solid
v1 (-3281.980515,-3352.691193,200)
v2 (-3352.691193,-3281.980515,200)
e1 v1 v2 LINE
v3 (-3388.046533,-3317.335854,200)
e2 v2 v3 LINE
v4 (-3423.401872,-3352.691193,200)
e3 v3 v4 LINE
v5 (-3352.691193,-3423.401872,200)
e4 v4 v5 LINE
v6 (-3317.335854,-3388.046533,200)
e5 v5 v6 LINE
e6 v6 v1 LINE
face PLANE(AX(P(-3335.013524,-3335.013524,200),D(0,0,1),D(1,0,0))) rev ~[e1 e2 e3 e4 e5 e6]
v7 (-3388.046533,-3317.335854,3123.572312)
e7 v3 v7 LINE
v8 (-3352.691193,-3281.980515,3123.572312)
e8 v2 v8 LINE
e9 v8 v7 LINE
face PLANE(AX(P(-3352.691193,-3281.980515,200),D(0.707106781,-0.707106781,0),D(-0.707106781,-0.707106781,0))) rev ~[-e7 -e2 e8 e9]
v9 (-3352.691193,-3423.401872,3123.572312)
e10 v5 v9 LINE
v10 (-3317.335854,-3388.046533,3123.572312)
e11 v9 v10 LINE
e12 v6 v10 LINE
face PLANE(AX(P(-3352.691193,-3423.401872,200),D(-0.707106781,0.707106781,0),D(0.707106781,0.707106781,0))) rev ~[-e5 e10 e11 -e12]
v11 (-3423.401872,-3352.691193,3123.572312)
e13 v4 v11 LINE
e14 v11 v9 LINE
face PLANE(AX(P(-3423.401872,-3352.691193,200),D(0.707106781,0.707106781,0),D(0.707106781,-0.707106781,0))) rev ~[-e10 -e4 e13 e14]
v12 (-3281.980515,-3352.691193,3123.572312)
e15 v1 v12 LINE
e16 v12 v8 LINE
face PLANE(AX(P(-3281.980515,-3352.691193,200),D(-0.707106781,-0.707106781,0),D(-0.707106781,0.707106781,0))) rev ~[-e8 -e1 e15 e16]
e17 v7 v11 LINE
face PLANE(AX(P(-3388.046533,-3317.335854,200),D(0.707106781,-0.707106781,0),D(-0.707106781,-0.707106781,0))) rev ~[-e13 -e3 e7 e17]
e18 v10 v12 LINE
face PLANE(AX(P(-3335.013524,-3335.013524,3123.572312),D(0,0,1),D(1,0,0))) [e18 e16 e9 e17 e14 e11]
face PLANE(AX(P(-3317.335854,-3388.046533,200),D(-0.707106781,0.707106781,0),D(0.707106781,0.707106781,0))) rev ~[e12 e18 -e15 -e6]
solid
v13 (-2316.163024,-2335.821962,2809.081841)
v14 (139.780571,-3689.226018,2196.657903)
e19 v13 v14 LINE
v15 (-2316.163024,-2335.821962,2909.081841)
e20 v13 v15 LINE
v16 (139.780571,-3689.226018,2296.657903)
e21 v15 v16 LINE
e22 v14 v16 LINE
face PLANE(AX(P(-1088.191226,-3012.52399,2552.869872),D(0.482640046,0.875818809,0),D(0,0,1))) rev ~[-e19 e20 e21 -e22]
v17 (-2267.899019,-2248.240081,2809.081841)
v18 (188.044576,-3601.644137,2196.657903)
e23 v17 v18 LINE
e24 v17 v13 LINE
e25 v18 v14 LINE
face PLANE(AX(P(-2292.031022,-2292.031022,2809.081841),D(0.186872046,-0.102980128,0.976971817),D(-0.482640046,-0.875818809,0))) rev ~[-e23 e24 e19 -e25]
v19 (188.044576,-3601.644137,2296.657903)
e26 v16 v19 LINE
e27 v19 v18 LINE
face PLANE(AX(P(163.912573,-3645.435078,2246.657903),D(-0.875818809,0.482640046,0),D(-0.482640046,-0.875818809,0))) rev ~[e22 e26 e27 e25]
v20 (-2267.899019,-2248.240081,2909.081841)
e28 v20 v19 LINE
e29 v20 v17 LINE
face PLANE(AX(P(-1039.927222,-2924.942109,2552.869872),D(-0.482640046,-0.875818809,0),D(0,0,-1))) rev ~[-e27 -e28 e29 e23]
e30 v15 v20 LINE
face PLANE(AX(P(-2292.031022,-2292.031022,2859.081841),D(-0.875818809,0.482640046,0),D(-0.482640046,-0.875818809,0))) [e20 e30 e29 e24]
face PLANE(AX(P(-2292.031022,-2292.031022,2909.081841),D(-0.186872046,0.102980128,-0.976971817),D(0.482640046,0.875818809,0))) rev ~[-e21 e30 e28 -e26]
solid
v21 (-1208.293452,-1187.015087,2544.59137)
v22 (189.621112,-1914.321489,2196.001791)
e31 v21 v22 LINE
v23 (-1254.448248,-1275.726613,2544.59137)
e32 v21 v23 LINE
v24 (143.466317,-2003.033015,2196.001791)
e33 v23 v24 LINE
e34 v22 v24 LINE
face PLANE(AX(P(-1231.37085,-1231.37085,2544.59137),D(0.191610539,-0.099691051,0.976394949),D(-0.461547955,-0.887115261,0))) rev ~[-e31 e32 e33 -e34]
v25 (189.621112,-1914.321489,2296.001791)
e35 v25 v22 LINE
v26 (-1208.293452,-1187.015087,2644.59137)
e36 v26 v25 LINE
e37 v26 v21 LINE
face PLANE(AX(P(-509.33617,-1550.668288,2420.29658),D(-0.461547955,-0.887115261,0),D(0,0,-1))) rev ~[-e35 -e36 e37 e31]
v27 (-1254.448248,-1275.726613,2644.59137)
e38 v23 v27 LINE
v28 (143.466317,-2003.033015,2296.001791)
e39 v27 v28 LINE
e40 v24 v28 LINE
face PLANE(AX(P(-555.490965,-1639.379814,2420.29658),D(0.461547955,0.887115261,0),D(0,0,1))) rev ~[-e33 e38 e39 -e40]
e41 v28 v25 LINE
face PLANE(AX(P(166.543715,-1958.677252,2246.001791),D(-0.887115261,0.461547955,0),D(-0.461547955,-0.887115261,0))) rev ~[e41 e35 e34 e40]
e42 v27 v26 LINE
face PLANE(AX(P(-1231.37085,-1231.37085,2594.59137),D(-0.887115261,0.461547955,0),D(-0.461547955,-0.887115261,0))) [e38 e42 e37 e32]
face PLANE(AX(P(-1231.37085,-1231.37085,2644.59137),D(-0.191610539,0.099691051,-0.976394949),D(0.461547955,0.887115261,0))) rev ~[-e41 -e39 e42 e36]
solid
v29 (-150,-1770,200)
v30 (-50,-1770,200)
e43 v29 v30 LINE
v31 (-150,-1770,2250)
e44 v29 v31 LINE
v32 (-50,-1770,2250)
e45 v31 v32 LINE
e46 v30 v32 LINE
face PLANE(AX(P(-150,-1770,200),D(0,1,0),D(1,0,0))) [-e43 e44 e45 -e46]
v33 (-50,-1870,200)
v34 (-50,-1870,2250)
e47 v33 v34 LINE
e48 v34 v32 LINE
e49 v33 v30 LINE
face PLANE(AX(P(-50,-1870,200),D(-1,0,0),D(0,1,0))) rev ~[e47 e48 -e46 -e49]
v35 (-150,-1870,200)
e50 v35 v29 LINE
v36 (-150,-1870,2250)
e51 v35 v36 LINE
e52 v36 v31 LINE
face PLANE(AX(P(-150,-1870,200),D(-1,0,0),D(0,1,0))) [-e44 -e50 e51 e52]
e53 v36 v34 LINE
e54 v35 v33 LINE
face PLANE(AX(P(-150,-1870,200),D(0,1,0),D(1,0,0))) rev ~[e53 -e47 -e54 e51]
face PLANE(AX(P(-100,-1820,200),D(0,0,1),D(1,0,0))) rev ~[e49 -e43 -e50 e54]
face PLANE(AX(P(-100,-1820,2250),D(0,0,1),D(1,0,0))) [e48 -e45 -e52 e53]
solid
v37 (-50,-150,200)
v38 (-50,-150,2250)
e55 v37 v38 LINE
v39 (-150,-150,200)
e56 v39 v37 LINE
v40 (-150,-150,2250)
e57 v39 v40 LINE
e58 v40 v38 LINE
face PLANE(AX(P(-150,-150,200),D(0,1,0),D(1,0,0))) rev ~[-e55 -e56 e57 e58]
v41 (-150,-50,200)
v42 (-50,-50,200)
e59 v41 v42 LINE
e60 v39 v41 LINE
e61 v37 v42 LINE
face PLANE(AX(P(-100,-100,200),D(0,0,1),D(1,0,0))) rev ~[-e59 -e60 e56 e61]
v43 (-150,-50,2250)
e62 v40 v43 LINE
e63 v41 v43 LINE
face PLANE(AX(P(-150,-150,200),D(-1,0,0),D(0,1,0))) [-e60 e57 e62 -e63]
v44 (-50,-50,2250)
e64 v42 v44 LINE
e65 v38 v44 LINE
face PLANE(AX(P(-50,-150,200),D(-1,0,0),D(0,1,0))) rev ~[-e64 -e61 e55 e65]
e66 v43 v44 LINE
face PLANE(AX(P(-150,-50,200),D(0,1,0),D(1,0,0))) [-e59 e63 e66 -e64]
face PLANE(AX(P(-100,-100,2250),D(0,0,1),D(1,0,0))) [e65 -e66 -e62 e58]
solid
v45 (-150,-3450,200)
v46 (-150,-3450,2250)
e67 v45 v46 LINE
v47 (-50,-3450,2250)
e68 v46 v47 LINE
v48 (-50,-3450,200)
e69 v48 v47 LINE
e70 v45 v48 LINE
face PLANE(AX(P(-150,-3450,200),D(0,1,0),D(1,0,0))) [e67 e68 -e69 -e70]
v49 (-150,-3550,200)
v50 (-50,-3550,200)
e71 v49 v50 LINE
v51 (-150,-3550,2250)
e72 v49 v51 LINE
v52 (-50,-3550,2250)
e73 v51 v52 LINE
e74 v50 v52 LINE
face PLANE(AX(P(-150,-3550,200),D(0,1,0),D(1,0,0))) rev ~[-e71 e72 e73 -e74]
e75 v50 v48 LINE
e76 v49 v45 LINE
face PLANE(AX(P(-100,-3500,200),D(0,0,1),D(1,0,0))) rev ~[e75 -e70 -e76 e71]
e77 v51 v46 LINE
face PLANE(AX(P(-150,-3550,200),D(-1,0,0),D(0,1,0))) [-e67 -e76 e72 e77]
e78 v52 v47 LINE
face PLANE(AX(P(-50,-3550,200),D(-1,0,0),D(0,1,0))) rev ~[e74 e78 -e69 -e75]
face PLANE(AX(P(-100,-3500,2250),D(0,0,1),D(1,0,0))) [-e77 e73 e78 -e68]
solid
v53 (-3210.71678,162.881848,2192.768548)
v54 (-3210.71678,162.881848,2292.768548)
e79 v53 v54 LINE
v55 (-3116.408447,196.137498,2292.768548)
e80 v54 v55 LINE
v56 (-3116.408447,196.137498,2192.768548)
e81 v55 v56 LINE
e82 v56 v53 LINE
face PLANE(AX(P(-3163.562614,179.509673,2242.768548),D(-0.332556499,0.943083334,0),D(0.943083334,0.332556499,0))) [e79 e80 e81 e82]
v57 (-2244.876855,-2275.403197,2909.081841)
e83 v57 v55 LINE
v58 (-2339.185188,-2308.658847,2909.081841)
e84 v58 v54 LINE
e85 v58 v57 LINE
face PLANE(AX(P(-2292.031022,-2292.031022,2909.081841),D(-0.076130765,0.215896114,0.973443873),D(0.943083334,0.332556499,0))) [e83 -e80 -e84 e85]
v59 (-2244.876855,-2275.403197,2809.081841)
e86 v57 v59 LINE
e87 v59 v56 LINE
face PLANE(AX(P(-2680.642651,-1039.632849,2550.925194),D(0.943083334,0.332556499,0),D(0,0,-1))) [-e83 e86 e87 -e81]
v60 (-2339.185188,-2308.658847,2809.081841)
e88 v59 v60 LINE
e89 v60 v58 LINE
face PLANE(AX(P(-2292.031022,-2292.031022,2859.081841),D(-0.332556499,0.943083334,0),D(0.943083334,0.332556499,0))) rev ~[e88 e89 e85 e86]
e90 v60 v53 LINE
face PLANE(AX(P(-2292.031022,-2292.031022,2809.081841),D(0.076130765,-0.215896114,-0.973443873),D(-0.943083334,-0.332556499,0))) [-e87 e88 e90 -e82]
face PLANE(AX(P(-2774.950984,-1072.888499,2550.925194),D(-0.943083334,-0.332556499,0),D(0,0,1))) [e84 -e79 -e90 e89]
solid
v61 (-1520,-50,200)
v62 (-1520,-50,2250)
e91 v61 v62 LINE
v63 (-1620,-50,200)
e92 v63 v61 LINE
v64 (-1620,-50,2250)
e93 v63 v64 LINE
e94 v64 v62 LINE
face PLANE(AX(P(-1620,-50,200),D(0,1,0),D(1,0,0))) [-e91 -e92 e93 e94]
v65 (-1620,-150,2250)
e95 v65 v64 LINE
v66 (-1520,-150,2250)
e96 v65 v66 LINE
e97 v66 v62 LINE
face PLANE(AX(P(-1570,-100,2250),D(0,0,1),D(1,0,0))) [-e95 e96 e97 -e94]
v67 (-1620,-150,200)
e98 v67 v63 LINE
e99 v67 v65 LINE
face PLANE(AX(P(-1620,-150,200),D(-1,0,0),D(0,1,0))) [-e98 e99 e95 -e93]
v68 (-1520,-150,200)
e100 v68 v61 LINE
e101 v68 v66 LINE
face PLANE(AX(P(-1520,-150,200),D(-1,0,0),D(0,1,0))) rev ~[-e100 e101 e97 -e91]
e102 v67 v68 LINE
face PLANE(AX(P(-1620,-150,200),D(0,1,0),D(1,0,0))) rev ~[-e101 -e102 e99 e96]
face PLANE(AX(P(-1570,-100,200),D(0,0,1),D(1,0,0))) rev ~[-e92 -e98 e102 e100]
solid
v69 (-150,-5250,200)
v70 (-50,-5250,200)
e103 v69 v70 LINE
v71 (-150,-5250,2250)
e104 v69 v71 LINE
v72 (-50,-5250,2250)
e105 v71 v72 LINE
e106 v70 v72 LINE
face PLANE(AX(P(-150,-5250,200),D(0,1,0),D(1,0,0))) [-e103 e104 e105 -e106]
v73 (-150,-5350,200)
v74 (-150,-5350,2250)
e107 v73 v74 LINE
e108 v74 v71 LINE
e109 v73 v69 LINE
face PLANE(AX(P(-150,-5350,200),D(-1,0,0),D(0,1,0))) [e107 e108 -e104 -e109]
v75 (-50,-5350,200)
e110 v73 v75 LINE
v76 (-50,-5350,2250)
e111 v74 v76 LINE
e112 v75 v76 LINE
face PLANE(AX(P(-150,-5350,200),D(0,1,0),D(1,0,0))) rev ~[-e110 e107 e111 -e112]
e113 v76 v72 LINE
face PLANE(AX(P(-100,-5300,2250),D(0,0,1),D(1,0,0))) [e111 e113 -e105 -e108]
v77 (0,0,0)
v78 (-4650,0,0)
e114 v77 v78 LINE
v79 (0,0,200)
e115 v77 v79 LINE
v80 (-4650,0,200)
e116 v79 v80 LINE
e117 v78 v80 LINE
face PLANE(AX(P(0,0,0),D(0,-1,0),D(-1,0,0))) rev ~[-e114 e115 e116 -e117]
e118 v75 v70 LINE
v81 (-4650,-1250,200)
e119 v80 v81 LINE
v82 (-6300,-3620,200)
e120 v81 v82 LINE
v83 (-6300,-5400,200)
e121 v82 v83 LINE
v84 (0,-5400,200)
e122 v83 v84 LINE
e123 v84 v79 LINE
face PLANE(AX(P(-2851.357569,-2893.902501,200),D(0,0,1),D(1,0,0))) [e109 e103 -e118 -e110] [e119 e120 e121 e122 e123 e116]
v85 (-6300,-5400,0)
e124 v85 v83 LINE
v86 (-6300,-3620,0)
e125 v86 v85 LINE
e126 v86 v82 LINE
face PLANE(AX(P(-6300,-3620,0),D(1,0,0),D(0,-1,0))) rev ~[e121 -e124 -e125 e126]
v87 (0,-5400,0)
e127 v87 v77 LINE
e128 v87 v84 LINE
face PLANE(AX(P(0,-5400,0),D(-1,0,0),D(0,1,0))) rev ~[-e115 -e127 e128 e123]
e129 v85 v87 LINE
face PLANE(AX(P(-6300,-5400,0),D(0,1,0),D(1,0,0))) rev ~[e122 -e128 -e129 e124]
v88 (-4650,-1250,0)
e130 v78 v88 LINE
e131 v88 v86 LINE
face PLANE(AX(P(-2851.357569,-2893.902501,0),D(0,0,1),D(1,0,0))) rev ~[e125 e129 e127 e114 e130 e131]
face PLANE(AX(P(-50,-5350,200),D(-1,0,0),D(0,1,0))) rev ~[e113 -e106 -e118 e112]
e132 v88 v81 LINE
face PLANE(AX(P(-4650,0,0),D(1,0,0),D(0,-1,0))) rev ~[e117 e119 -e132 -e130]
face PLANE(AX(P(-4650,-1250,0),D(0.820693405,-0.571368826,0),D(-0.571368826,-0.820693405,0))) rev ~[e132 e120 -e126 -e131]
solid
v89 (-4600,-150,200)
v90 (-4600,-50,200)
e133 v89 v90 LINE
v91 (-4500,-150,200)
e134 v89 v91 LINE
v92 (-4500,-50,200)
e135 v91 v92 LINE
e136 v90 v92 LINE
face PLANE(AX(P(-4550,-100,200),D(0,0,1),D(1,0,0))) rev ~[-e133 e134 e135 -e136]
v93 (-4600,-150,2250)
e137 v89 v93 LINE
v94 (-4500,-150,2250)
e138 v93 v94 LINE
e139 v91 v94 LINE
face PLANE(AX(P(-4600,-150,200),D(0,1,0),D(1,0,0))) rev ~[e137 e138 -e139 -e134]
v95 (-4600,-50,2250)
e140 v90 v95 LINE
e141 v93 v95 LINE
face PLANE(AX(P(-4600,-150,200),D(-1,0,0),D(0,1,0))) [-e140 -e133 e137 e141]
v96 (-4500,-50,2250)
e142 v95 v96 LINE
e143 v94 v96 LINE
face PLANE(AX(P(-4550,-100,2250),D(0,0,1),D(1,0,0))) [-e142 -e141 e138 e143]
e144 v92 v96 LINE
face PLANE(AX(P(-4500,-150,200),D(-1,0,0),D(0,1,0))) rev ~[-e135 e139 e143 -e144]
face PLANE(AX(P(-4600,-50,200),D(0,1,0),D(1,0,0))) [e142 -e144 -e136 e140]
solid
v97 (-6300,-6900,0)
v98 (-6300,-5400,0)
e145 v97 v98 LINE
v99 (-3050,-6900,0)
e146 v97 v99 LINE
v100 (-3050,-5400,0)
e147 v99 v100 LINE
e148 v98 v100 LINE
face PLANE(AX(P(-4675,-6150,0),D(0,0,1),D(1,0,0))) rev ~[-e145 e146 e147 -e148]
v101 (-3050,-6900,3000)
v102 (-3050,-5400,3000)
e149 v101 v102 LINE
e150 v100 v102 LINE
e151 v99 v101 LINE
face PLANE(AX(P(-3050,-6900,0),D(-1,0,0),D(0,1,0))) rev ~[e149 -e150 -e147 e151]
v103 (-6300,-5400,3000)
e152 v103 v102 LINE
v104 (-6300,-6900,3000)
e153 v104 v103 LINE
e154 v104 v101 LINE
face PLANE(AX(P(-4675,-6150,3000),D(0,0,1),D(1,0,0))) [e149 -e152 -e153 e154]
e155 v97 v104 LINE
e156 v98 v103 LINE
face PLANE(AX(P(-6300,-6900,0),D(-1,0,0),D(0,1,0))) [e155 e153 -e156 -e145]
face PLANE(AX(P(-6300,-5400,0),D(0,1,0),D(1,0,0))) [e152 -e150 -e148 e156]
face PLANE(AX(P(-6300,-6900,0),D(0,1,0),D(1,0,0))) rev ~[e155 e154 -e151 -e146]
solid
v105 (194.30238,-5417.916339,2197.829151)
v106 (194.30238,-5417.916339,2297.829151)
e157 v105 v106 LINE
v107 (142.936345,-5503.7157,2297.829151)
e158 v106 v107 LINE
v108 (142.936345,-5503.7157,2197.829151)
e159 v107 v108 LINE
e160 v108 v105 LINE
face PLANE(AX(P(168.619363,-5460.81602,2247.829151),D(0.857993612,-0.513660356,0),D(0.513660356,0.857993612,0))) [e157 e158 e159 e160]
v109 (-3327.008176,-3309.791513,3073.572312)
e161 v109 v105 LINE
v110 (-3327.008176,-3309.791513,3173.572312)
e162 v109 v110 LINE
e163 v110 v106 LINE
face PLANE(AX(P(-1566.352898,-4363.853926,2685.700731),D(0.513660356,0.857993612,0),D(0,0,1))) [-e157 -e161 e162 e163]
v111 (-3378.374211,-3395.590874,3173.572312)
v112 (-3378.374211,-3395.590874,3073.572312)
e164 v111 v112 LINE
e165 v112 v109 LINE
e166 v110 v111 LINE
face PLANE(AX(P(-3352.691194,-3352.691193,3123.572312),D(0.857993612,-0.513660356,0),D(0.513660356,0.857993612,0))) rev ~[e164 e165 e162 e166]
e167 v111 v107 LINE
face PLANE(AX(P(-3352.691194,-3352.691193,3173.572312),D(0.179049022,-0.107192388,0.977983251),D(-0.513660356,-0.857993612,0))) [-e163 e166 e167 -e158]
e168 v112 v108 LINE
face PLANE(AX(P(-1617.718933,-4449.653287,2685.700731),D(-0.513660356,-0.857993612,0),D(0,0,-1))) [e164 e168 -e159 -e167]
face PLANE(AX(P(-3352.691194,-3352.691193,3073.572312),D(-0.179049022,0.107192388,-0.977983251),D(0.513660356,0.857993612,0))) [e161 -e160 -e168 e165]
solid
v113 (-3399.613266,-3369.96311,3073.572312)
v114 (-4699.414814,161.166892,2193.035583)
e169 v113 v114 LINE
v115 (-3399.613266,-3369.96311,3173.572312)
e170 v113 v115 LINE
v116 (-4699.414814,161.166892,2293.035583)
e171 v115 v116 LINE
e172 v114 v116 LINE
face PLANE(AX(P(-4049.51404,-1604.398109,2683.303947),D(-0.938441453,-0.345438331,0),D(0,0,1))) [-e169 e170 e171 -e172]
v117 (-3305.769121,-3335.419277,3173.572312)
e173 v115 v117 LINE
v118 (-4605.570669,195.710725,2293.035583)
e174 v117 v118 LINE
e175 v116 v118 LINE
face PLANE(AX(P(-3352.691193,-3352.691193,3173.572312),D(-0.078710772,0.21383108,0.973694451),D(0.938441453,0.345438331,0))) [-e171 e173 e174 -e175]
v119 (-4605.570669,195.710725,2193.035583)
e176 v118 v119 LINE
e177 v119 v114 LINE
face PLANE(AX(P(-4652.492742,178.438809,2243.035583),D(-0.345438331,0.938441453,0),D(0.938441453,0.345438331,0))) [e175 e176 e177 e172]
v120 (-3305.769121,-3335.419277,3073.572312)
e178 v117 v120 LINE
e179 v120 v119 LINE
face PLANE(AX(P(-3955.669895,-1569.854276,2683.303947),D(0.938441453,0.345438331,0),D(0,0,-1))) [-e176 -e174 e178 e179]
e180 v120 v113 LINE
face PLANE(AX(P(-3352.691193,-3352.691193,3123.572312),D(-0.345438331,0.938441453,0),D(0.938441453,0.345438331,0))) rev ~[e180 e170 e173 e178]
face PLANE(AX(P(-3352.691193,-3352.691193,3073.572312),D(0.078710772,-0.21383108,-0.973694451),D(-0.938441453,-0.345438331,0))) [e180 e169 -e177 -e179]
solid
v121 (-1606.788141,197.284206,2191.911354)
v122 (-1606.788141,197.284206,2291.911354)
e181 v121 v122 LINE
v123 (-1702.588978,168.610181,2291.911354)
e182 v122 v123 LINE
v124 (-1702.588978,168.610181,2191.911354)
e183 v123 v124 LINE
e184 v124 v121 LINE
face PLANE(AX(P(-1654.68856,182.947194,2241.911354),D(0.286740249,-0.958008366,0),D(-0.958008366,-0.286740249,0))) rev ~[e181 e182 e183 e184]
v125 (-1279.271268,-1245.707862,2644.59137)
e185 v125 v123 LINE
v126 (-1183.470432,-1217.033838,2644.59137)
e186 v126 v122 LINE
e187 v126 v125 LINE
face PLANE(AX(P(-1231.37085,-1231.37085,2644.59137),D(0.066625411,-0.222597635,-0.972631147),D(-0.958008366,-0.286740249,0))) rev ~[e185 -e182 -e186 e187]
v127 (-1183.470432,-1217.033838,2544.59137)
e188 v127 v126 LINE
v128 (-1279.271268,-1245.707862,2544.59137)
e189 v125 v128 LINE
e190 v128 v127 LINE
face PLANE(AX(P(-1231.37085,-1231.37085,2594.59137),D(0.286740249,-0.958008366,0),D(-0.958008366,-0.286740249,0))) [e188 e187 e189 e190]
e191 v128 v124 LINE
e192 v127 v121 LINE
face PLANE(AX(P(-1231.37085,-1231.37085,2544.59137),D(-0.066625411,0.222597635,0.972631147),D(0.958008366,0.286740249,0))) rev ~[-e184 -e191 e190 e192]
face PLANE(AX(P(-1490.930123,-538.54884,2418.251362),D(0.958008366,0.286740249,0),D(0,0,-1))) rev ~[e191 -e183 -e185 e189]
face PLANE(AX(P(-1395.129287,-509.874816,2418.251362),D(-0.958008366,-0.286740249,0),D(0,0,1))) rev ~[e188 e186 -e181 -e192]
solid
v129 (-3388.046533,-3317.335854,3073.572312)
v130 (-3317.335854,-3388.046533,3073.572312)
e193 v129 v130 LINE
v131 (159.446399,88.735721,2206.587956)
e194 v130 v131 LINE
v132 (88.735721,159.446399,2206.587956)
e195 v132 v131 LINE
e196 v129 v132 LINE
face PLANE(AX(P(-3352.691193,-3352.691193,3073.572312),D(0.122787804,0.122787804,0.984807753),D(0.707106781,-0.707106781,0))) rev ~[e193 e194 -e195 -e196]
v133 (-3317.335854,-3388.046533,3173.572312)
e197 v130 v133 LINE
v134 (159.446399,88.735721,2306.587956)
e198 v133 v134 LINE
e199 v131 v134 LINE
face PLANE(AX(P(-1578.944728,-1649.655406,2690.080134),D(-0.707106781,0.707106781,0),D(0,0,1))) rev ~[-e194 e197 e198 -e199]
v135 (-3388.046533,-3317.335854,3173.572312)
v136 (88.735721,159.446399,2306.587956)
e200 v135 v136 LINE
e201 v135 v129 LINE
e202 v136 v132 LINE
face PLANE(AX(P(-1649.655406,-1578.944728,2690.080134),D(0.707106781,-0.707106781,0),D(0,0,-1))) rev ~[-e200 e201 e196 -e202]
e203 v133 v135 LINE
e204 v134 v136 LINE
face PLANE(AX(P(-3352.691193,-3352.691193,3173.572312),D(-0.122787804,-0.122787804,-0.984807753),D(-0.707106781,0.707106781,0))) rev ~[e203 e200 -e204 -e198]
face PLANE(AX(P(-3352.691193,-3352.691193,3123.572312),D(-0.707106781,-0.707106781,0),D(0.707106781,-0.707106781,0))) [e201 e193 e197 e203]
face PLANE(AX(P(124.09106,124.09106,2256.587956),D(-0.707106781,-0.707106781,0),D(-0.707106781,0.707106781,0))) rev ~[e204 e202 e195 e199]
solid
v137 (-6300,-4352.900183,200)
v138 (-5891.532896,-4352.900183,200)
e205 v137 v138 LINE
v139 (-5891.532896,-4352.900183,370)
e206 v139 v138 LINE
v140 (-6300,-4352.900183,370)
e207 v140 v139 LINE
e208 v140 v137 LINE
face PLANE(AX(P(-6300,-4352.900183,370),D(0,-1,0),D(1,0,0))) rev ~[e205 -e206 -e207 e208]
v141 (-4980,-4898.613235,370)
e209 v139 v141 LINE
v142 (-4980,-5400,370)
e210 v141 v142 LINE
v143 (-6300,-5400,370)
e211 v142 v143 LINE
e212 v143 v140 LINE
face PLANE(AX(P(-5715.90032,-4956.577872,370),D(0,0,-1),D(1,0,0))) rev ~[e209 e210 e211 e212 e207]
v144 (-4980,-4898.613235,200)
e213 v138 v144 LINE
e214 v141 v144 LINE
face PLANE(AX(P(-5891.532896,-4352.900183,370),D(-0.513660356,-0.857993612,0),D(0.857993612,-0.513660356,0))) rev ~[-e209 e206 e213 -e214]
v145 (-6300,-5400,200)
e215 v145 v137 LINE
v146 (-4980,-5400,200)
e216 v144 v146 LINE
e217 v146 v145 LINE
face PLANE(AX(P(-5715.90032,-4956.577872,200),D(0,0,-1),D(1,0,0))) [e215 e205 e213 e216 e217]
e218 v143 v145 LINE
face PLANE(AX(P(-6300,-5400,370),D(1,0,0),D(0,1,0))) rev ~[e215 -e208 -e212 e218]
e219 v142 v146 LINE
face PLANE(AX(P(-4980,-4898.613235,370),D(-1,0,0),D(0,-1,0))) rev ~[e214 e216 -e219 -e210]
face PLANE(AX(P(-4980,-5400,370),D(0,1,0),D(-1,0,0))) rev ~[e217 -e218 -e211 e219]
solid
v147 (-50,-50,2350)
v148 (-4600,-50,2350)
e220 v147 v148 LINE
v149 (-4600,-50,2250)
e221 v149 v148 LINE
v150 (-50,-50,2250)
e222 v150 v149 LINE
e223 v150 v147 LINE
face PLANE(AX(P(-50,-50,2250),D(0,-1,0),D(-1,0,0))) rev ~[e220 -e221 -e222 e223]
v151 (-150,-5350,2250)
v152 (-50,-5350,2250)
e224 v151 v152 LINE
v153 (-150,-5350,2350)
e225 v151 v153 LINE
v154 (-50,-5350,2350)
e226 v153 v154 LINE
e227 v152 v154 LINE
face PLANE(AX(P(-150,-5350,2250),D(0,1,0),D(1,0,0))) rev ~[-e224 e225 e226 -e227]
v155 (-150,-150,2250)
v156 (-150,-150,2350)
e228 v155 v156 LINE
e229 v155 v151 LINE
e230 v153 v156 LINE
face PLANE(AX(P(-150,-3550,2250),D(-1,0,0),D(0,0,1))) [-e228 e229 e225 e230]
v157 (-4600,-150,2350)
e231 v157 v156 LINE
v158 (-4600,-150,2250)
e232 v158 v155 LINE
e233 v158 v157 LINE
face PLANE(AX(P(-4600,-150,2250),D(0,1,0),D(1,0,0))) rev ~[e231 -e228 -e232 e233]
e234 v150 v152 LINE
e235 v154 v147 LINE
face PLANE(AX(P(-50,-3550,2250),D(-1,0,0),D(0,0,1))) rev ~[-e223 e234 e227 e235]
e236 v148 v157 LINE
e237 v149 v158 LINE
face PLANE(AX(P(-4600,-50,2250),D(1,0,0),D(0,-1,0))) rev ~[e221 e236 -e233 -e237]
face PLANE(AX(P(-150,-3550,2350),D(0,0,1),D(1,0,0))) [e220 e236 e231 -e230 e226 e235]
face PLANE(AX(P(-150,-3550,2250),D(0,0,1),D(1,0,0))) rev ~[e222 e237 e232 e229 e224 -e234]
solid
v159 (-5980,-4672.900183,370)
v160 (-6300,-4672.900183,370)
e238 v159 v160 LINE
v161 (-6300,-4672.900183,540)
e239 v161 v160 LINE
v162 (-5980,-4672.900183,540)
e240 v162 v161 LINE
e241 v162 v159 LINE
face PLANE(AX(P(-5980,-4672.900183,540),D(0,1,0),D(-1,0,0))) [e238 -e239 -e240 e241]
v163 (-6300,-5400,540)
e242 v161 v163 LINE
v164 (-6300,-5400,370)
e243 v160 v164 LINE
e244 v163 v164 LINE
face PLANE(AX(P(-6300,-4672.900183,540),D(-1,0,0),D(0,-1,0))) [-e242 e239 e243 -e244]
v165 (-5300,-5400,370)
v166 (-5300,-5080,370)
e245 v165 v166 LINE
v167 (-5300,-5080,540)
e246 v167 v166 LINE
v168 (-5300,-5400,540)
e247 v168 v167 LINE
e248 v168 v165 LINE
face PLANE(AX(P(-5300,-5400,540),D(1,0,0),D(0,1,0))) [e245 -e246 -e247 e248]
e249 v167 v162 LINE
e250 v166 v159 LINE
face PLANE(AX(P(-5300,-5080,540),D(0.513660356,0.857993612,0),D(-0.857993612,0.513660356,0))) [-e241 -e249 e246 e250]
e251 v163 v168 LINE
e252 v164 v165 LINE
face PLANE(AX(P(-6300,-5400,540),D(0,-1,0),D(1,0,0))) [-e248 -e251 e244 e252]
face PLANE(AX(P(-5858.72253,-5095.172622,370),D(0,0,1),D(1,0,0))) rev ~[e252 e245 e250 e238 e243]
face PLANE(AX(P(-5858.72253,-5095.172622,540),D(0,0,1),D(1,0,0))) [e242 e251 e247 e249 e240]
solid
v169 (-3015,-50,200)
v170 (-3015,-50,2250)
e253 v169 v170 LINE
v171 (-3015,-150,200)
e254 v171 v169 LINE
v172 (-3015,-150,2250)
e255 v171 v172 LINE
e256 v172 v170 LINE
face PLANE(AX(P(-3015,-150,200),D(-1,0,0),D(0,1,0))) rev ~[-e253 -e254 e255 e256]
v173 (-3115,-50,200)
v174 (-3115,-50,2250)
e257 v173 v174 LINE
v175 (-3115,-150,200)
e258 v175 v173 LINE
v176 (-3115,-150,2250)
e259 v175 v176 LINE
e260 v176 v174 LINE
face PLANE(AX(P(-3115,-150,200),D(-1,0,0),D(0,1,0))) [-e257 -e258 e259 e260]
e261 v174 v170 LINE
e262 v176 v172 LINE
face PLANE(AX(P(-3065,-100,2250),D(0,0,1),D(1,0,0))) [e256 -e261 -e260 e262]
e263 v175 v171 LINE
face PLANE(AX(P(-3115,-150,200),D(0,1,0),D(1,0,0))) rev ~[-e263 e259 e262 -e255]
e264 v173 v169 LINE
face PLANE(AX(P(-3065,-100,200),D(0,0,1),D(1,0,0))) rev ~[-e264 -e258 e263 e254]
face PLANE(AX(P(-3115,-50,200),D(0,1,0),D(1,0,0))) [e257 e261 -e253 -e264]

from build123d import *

# Parameters (mm, degrees)
F1_DEPTH  = 200
F2_W      = 100
F2_H      = 100
F3_DEPTH  = 2050
F5_DEPTH  = 100
F8_W      = 100
F8_H      = 100
F9_DEPTH  = 2050
F10_DEPTH = 1800
F14_W     = 100
F14_H     = 100
F19_W     = 100
F19_H     = 100
F24_W     = 100
F24_H     = 100
F29_W     = 100
F29_H     = 100
F34_W     = 100
F34_H     = 100
F39_W     = 100
F39_H     = 100
F44_W     = 100
F44_H     = 100
F47_DEPTH = 2923.5723116355
F6_W      = 3250
F6_H      = 1500
F48_DEPTH = 3000
F51_DEPTH = 170
F53_DEPTH = 170


with BuildPart() as f1:
    # F0 (on Top) → F1 (new body)
    with BuildSketch(Plane.XY):
        Polygon((0, -5400), (0, 0), (-4650, 0), (-4650, -1250), (-6300, -3620), (-6300, -5400), align=None)
    extrude(amount=F1_DEPTH)

    # F8 (on face) → F9 (join)
    with BuildSketch(Plane.XY.offset(200)):
        with Locations((-100, -5300)):
            Rectangle(F8_W, F8_H)
    extrude(amount=F9_DEPTH)


with BuildPart() as f3:
    # F2 (on face) → F3 (new body)
    with BuildSketch(Plane.XY.offset(200)):
        with Locations((-100, -100)):
            Rectangle(F2_W, F2_H)
    extrude(amount=F3_DEPTH)


with BuildPart() as f3b:
    # F2 (on face) → F3, piece 2 (new body)
    with BuildSketch(Plane.XY.offset(200)):
        with Locations((-100, -1820)):
            Rectangle(F2_W, F2_H)
    extrude(amount=F3_DEPTH)


with BuildPart() as f3c:
    # F2 (on face) → F3, piece 3 (new body)
    with BuildSketch(Plane.XY.offset(200)):
        with Locations((-100, -3500)):
            Rectangle(F2_W, F2_H)
    extrude(amount=F3_DEPTH)


with BuildPart() as f3d:
    # F2 (on face) → F3, piece 4 (new body)
    with BuildSketch(Plane.XY.offset(200)):
        with Locations((-1570, -100)):
            Rectangle(F2_W, F2_H)
    extrude(amount=F3_DEPTH)


with BuildPart() as f3e:
    # F2 (on face) → F3, piece 5 (new body)
    with BuildSketch(Plane.XY.offset(200)):
        with Locations((-4550, -100)):
            Rectangle(F2_W, F2_H)
    extrude(amount=F3_DEPTH)


with BuildPart() as f3f:
    # F2 (on face) → F3, piece 6 (new body)
    with BuildSketch(Plane.XY.offset(200)):
        with Locations((-3065, -100)):
            Rectangle(F2_W, F2_H)
    extrude(amount=F3_DEPTH)


with BuildPart() as f5:
    # F4 (on face) → F5 (new body)
    with BuildSketch(Plane.XY.offset(2250)):
        Polygon((-150, -50), (-4600, -50), (-4600, -150), (-150, -150), (-50, -50), align=None)
        Polygon((-50, -150), (-50, -50), (-150, -150), (-150, -3550), (-50, -3550), align=None)
    extrude(amount=F5_DEPTH)

    # F10 (add, through all): a face of the model
    f10_faces = [f5.faces().sort_by_distance(p)[0] for p in [
        (-100, -3550, 2300),
    ]]
    extrude(f10_faces, amount=F10_DEPTH)


with BuildPart() as f15:
    # F15: sweep along a path in F12
    with BuildLine(Plane(origin=(0, 0, 0), x_dir=(-0.7071067812, -0.7071067812, 0), z_dir=(-0.7071067812, 0.7071067812, 0))) as f15_path:
        Line((4741.4213562373, 3123.5723116355), (-175.4912601344, 2256.5879555833))
    # F14 (on face) → F15 (sweep)
    with BuildSketch(Plane(origin=(-3352.6911934581, -3352.6911934581, 0), x_dir=(0.7071067812, -0.7071067812, 0), z_dir=(-0.7071067812, -0.7071067812, 0))):
        with Locations((0, 3123.5723116355)):
            Rectangle(F14_W, F14_H)
    sweep(path=f15_path.line)


with BuildPart() as f20:
    # F20: sweep along a path in F17
    with BuildLine(Plane(origin=(-2362.1864095052, -3945.6828345314, 0), x_dir=(0.8579936122, -0.5136603562, 0), z_dir=(-0.5136603562, -0.8579936122, 0))) as f20_path:
        Line((-1154.4430750004, 3123.5723116355), (2949.6790376872, 2247.8291507744))
    # F19 (on face) → F20 (sweep)
    with BuildSketch(Plane(origin=(-990.5047839529, 592.9916410733, 0), x_dir=(0.5136603562, 0.8579936122, 0), z_dir=(0.8579936122, -0.5136603562, 0))):
        with Locations((-4598.7321800652, 3123.5723116355)):
            Rectangle(F19_W, F19_H)
    sweep(path=f20_path.line)


with BuildPart() as f25:
    # F25: sweep along a path in F22
    with BuildLine(Plane(origin=(-1502.7624460571, -2726.9755756037, 0), x_dir=(0.8758188091, -0.4826400455, 0), z_dir=(-0.4826400455, -0.8758188091, 0))) as f25_path:
        Line((-901.1779233051, 2859.0818405728), (1902.9906666078, 2246.6579034372))
    # F24 (on face) → F25 (sweep)
    with BuildSketch(Plane(origin=(-789.2685756212, 434.9445539254, 0), x_dir=(-0.4826400455, -0.8758188091, 0), z_dir=(-0.8758188091, 0.4826400455, 0))):
        with Locations((3113.6298365764, 2859.0818405728)):
            Rectangle(F24_W, F24_H)
    sweep(path=f25_path.line)


with BuildPart() as f30:
    # F30: sweep along a path in F27
    with BuildLine(Plane(origin=(-766.4947975737, -1473.2363669454, 0), x_dir=(0.8871152605, -0.4615479548, 0), z_dir=(-0.4615479548, -0.8871152605, 0))) as f30_path:
        Line((-524.03117499, 2594.5913695101), (1051.7669505735, 2246.0017914729))
    # F29 (on face) → F30 (sweep)
    with BuildSketch(Plane(origin=(-464.8760523248, 241.8655170469, 0), x_dir=(-0.4615479548, -0.8871152605, 0), z_dir=(-0.8871152605, 0.4615479548, 0))):
        with Locations((1660.7045696324, 2594.5913695101)):
            Rectangle(F29_W, F29_H)
    sweep(path=f30_path.line)


with BuildPart() as f35:
    # F35: sweep along a path in F32
    with BuildLine(Plane(origin=(-1468.3846024822, -439.5003017846, 0), x_dir=(-0.2867402487, 0.9580083662, 0), z_dir=(0.9580083662, 0.2867402487, 0))) as f35_path:
        Line((-826.579992429, 2594.5913695101), (649.7307515053, 2241.9113541709))
    # F34 (on face) → F35 (sweep)
    with BuildSketch(Plane(origin=(237.0137525837, -791.8705481139, 0), x_dir=(0.9580083662, 0.2867402487, 0), z_dir=(0.2867402487, -0.9580083662, 0))):
        with Locations((-1532.7471598654, 2594.5913695101)):
            Rectangle(F34_W, F34_H)
    sweep(path=f35_path.line)


with BuildPart() as f40:
    # F40: sweep along a path in F37
    with BuildLine(Plane(origin=(-2757.3927763263, -972.3307088586, 0), x_dir=(0.3325564986, -0.9430833342, 0), z_dir=(-0.9430833342, -0.3325564986, 0))) as f40_path:
        Line((1399.346446862, 2859.0818405728), (-1221.3558871335, 2242.7685480654))
    # F39 (on face) → F40 (sweep)
    with BuildSketch(Plane(origin=(465.361754648, -1319.7003128197, 0), x_dir=(-0.9430833342, -0.3325564986, 0), z_dir=(-0.3325564986, 0.9430833342, 0))):
        with Locations((2923.806069206, 2859.0818405728)):
            Rectangle(F39_W, F39_H)
    sweep(path=f40_path.line)


with BuildPart() as f45:
    # F45: sweep along a path in F42
    with BuildLine(Plane(origin=(-4039.4766020219, -1486.9228653332, 0), x_dir=(-0.3454383305, 0.9384414525, 0), z_dir=(0.9384414525, 0.3454383305, 0))) as f45_path:
        Line((-1988.1563448709, 3123.5723116355), (1774.6037001363, 2243.0355831929))
    # F44 (on face) → F45 (sweep)
    with BuildSketch(Plane(origin=(686.7854085638, -1865.768328125, 0), x_dir=(-0.9384414525, -0.3454383305, 0), z_dir=(-0.3454383305, 0.9384414525, 0))):
        with Locations((4304.4524420341, 3123.5723116355)):
            Rectangle(F44_W, F44_H)
    sweep(path=f45_path.line)


with BuildPart() as f47:
    # F46 (on face) → F47 (new body, through all)
    with BuildSketch(Plane.XY.offset(200)):
        Polygon((-3352.6911934581, -3281.9805153395), (-3388.0465325174, -3317.3358543988), (-3317.3358543988, -3388.0465325174), (-3281.9805153395, -3352.6911934581), align=None)
        Polygon((-3317.3358543988, -3388.0465325174), (-3388.0465325174, -3317.3358543988), (-3423.4018715768, -3352.6911934581), (-3352.6911934581, -3423.4018715768), align=None)
    extrude(amount=F47_DEPTH)


with BuildPart() as f48:
    # F6 (on Top) → F48 (new body)
    with BuildSketch(Plane.XY):
        with Locations((-4675, -6150)):
            Rectangle(F6_W, F6_H)
    extrude(amount=F48_DEPTH)


with BuildPart() as f51:
    # F50 (on offset) → F51 (new body)
    with BuildSketch(Plane.XY.offset(540)):
        Polygon((-6300, -4672.9001833584), (-6300, -5400), (-5300, -5400), (-5300, -5080), (-5980, -4672.9001833584), align=None)
    extrude(amount=-F51_DEPTH)


with BuildPart() as f53:
    # F52 (on face) → F53 (new body, through all)
    with BuildSketch(Plane(origin=(0, 0, 370), x_dir=(1, 0, 0), z_dir=(0, 0, -1))):
        Polygon((-4980, 5400), (-6300, 5400), (-6300, 4352.9001833584), (-5891.5328960789, 4352.9001833584), (-4980, 4898.6132346179), align=None)
    extrude(amount=F53_DEPTH)


solid = Compound([f1.part, f3.part, f3b.part, f3c.part, f3d.part, f3e.part, f3f.part, f5.part, f15.part, f20.part, f25.part, f30.part, f35.part, f40.part, f45.part, f47.part, f48.part, f51.part, f53.part])
